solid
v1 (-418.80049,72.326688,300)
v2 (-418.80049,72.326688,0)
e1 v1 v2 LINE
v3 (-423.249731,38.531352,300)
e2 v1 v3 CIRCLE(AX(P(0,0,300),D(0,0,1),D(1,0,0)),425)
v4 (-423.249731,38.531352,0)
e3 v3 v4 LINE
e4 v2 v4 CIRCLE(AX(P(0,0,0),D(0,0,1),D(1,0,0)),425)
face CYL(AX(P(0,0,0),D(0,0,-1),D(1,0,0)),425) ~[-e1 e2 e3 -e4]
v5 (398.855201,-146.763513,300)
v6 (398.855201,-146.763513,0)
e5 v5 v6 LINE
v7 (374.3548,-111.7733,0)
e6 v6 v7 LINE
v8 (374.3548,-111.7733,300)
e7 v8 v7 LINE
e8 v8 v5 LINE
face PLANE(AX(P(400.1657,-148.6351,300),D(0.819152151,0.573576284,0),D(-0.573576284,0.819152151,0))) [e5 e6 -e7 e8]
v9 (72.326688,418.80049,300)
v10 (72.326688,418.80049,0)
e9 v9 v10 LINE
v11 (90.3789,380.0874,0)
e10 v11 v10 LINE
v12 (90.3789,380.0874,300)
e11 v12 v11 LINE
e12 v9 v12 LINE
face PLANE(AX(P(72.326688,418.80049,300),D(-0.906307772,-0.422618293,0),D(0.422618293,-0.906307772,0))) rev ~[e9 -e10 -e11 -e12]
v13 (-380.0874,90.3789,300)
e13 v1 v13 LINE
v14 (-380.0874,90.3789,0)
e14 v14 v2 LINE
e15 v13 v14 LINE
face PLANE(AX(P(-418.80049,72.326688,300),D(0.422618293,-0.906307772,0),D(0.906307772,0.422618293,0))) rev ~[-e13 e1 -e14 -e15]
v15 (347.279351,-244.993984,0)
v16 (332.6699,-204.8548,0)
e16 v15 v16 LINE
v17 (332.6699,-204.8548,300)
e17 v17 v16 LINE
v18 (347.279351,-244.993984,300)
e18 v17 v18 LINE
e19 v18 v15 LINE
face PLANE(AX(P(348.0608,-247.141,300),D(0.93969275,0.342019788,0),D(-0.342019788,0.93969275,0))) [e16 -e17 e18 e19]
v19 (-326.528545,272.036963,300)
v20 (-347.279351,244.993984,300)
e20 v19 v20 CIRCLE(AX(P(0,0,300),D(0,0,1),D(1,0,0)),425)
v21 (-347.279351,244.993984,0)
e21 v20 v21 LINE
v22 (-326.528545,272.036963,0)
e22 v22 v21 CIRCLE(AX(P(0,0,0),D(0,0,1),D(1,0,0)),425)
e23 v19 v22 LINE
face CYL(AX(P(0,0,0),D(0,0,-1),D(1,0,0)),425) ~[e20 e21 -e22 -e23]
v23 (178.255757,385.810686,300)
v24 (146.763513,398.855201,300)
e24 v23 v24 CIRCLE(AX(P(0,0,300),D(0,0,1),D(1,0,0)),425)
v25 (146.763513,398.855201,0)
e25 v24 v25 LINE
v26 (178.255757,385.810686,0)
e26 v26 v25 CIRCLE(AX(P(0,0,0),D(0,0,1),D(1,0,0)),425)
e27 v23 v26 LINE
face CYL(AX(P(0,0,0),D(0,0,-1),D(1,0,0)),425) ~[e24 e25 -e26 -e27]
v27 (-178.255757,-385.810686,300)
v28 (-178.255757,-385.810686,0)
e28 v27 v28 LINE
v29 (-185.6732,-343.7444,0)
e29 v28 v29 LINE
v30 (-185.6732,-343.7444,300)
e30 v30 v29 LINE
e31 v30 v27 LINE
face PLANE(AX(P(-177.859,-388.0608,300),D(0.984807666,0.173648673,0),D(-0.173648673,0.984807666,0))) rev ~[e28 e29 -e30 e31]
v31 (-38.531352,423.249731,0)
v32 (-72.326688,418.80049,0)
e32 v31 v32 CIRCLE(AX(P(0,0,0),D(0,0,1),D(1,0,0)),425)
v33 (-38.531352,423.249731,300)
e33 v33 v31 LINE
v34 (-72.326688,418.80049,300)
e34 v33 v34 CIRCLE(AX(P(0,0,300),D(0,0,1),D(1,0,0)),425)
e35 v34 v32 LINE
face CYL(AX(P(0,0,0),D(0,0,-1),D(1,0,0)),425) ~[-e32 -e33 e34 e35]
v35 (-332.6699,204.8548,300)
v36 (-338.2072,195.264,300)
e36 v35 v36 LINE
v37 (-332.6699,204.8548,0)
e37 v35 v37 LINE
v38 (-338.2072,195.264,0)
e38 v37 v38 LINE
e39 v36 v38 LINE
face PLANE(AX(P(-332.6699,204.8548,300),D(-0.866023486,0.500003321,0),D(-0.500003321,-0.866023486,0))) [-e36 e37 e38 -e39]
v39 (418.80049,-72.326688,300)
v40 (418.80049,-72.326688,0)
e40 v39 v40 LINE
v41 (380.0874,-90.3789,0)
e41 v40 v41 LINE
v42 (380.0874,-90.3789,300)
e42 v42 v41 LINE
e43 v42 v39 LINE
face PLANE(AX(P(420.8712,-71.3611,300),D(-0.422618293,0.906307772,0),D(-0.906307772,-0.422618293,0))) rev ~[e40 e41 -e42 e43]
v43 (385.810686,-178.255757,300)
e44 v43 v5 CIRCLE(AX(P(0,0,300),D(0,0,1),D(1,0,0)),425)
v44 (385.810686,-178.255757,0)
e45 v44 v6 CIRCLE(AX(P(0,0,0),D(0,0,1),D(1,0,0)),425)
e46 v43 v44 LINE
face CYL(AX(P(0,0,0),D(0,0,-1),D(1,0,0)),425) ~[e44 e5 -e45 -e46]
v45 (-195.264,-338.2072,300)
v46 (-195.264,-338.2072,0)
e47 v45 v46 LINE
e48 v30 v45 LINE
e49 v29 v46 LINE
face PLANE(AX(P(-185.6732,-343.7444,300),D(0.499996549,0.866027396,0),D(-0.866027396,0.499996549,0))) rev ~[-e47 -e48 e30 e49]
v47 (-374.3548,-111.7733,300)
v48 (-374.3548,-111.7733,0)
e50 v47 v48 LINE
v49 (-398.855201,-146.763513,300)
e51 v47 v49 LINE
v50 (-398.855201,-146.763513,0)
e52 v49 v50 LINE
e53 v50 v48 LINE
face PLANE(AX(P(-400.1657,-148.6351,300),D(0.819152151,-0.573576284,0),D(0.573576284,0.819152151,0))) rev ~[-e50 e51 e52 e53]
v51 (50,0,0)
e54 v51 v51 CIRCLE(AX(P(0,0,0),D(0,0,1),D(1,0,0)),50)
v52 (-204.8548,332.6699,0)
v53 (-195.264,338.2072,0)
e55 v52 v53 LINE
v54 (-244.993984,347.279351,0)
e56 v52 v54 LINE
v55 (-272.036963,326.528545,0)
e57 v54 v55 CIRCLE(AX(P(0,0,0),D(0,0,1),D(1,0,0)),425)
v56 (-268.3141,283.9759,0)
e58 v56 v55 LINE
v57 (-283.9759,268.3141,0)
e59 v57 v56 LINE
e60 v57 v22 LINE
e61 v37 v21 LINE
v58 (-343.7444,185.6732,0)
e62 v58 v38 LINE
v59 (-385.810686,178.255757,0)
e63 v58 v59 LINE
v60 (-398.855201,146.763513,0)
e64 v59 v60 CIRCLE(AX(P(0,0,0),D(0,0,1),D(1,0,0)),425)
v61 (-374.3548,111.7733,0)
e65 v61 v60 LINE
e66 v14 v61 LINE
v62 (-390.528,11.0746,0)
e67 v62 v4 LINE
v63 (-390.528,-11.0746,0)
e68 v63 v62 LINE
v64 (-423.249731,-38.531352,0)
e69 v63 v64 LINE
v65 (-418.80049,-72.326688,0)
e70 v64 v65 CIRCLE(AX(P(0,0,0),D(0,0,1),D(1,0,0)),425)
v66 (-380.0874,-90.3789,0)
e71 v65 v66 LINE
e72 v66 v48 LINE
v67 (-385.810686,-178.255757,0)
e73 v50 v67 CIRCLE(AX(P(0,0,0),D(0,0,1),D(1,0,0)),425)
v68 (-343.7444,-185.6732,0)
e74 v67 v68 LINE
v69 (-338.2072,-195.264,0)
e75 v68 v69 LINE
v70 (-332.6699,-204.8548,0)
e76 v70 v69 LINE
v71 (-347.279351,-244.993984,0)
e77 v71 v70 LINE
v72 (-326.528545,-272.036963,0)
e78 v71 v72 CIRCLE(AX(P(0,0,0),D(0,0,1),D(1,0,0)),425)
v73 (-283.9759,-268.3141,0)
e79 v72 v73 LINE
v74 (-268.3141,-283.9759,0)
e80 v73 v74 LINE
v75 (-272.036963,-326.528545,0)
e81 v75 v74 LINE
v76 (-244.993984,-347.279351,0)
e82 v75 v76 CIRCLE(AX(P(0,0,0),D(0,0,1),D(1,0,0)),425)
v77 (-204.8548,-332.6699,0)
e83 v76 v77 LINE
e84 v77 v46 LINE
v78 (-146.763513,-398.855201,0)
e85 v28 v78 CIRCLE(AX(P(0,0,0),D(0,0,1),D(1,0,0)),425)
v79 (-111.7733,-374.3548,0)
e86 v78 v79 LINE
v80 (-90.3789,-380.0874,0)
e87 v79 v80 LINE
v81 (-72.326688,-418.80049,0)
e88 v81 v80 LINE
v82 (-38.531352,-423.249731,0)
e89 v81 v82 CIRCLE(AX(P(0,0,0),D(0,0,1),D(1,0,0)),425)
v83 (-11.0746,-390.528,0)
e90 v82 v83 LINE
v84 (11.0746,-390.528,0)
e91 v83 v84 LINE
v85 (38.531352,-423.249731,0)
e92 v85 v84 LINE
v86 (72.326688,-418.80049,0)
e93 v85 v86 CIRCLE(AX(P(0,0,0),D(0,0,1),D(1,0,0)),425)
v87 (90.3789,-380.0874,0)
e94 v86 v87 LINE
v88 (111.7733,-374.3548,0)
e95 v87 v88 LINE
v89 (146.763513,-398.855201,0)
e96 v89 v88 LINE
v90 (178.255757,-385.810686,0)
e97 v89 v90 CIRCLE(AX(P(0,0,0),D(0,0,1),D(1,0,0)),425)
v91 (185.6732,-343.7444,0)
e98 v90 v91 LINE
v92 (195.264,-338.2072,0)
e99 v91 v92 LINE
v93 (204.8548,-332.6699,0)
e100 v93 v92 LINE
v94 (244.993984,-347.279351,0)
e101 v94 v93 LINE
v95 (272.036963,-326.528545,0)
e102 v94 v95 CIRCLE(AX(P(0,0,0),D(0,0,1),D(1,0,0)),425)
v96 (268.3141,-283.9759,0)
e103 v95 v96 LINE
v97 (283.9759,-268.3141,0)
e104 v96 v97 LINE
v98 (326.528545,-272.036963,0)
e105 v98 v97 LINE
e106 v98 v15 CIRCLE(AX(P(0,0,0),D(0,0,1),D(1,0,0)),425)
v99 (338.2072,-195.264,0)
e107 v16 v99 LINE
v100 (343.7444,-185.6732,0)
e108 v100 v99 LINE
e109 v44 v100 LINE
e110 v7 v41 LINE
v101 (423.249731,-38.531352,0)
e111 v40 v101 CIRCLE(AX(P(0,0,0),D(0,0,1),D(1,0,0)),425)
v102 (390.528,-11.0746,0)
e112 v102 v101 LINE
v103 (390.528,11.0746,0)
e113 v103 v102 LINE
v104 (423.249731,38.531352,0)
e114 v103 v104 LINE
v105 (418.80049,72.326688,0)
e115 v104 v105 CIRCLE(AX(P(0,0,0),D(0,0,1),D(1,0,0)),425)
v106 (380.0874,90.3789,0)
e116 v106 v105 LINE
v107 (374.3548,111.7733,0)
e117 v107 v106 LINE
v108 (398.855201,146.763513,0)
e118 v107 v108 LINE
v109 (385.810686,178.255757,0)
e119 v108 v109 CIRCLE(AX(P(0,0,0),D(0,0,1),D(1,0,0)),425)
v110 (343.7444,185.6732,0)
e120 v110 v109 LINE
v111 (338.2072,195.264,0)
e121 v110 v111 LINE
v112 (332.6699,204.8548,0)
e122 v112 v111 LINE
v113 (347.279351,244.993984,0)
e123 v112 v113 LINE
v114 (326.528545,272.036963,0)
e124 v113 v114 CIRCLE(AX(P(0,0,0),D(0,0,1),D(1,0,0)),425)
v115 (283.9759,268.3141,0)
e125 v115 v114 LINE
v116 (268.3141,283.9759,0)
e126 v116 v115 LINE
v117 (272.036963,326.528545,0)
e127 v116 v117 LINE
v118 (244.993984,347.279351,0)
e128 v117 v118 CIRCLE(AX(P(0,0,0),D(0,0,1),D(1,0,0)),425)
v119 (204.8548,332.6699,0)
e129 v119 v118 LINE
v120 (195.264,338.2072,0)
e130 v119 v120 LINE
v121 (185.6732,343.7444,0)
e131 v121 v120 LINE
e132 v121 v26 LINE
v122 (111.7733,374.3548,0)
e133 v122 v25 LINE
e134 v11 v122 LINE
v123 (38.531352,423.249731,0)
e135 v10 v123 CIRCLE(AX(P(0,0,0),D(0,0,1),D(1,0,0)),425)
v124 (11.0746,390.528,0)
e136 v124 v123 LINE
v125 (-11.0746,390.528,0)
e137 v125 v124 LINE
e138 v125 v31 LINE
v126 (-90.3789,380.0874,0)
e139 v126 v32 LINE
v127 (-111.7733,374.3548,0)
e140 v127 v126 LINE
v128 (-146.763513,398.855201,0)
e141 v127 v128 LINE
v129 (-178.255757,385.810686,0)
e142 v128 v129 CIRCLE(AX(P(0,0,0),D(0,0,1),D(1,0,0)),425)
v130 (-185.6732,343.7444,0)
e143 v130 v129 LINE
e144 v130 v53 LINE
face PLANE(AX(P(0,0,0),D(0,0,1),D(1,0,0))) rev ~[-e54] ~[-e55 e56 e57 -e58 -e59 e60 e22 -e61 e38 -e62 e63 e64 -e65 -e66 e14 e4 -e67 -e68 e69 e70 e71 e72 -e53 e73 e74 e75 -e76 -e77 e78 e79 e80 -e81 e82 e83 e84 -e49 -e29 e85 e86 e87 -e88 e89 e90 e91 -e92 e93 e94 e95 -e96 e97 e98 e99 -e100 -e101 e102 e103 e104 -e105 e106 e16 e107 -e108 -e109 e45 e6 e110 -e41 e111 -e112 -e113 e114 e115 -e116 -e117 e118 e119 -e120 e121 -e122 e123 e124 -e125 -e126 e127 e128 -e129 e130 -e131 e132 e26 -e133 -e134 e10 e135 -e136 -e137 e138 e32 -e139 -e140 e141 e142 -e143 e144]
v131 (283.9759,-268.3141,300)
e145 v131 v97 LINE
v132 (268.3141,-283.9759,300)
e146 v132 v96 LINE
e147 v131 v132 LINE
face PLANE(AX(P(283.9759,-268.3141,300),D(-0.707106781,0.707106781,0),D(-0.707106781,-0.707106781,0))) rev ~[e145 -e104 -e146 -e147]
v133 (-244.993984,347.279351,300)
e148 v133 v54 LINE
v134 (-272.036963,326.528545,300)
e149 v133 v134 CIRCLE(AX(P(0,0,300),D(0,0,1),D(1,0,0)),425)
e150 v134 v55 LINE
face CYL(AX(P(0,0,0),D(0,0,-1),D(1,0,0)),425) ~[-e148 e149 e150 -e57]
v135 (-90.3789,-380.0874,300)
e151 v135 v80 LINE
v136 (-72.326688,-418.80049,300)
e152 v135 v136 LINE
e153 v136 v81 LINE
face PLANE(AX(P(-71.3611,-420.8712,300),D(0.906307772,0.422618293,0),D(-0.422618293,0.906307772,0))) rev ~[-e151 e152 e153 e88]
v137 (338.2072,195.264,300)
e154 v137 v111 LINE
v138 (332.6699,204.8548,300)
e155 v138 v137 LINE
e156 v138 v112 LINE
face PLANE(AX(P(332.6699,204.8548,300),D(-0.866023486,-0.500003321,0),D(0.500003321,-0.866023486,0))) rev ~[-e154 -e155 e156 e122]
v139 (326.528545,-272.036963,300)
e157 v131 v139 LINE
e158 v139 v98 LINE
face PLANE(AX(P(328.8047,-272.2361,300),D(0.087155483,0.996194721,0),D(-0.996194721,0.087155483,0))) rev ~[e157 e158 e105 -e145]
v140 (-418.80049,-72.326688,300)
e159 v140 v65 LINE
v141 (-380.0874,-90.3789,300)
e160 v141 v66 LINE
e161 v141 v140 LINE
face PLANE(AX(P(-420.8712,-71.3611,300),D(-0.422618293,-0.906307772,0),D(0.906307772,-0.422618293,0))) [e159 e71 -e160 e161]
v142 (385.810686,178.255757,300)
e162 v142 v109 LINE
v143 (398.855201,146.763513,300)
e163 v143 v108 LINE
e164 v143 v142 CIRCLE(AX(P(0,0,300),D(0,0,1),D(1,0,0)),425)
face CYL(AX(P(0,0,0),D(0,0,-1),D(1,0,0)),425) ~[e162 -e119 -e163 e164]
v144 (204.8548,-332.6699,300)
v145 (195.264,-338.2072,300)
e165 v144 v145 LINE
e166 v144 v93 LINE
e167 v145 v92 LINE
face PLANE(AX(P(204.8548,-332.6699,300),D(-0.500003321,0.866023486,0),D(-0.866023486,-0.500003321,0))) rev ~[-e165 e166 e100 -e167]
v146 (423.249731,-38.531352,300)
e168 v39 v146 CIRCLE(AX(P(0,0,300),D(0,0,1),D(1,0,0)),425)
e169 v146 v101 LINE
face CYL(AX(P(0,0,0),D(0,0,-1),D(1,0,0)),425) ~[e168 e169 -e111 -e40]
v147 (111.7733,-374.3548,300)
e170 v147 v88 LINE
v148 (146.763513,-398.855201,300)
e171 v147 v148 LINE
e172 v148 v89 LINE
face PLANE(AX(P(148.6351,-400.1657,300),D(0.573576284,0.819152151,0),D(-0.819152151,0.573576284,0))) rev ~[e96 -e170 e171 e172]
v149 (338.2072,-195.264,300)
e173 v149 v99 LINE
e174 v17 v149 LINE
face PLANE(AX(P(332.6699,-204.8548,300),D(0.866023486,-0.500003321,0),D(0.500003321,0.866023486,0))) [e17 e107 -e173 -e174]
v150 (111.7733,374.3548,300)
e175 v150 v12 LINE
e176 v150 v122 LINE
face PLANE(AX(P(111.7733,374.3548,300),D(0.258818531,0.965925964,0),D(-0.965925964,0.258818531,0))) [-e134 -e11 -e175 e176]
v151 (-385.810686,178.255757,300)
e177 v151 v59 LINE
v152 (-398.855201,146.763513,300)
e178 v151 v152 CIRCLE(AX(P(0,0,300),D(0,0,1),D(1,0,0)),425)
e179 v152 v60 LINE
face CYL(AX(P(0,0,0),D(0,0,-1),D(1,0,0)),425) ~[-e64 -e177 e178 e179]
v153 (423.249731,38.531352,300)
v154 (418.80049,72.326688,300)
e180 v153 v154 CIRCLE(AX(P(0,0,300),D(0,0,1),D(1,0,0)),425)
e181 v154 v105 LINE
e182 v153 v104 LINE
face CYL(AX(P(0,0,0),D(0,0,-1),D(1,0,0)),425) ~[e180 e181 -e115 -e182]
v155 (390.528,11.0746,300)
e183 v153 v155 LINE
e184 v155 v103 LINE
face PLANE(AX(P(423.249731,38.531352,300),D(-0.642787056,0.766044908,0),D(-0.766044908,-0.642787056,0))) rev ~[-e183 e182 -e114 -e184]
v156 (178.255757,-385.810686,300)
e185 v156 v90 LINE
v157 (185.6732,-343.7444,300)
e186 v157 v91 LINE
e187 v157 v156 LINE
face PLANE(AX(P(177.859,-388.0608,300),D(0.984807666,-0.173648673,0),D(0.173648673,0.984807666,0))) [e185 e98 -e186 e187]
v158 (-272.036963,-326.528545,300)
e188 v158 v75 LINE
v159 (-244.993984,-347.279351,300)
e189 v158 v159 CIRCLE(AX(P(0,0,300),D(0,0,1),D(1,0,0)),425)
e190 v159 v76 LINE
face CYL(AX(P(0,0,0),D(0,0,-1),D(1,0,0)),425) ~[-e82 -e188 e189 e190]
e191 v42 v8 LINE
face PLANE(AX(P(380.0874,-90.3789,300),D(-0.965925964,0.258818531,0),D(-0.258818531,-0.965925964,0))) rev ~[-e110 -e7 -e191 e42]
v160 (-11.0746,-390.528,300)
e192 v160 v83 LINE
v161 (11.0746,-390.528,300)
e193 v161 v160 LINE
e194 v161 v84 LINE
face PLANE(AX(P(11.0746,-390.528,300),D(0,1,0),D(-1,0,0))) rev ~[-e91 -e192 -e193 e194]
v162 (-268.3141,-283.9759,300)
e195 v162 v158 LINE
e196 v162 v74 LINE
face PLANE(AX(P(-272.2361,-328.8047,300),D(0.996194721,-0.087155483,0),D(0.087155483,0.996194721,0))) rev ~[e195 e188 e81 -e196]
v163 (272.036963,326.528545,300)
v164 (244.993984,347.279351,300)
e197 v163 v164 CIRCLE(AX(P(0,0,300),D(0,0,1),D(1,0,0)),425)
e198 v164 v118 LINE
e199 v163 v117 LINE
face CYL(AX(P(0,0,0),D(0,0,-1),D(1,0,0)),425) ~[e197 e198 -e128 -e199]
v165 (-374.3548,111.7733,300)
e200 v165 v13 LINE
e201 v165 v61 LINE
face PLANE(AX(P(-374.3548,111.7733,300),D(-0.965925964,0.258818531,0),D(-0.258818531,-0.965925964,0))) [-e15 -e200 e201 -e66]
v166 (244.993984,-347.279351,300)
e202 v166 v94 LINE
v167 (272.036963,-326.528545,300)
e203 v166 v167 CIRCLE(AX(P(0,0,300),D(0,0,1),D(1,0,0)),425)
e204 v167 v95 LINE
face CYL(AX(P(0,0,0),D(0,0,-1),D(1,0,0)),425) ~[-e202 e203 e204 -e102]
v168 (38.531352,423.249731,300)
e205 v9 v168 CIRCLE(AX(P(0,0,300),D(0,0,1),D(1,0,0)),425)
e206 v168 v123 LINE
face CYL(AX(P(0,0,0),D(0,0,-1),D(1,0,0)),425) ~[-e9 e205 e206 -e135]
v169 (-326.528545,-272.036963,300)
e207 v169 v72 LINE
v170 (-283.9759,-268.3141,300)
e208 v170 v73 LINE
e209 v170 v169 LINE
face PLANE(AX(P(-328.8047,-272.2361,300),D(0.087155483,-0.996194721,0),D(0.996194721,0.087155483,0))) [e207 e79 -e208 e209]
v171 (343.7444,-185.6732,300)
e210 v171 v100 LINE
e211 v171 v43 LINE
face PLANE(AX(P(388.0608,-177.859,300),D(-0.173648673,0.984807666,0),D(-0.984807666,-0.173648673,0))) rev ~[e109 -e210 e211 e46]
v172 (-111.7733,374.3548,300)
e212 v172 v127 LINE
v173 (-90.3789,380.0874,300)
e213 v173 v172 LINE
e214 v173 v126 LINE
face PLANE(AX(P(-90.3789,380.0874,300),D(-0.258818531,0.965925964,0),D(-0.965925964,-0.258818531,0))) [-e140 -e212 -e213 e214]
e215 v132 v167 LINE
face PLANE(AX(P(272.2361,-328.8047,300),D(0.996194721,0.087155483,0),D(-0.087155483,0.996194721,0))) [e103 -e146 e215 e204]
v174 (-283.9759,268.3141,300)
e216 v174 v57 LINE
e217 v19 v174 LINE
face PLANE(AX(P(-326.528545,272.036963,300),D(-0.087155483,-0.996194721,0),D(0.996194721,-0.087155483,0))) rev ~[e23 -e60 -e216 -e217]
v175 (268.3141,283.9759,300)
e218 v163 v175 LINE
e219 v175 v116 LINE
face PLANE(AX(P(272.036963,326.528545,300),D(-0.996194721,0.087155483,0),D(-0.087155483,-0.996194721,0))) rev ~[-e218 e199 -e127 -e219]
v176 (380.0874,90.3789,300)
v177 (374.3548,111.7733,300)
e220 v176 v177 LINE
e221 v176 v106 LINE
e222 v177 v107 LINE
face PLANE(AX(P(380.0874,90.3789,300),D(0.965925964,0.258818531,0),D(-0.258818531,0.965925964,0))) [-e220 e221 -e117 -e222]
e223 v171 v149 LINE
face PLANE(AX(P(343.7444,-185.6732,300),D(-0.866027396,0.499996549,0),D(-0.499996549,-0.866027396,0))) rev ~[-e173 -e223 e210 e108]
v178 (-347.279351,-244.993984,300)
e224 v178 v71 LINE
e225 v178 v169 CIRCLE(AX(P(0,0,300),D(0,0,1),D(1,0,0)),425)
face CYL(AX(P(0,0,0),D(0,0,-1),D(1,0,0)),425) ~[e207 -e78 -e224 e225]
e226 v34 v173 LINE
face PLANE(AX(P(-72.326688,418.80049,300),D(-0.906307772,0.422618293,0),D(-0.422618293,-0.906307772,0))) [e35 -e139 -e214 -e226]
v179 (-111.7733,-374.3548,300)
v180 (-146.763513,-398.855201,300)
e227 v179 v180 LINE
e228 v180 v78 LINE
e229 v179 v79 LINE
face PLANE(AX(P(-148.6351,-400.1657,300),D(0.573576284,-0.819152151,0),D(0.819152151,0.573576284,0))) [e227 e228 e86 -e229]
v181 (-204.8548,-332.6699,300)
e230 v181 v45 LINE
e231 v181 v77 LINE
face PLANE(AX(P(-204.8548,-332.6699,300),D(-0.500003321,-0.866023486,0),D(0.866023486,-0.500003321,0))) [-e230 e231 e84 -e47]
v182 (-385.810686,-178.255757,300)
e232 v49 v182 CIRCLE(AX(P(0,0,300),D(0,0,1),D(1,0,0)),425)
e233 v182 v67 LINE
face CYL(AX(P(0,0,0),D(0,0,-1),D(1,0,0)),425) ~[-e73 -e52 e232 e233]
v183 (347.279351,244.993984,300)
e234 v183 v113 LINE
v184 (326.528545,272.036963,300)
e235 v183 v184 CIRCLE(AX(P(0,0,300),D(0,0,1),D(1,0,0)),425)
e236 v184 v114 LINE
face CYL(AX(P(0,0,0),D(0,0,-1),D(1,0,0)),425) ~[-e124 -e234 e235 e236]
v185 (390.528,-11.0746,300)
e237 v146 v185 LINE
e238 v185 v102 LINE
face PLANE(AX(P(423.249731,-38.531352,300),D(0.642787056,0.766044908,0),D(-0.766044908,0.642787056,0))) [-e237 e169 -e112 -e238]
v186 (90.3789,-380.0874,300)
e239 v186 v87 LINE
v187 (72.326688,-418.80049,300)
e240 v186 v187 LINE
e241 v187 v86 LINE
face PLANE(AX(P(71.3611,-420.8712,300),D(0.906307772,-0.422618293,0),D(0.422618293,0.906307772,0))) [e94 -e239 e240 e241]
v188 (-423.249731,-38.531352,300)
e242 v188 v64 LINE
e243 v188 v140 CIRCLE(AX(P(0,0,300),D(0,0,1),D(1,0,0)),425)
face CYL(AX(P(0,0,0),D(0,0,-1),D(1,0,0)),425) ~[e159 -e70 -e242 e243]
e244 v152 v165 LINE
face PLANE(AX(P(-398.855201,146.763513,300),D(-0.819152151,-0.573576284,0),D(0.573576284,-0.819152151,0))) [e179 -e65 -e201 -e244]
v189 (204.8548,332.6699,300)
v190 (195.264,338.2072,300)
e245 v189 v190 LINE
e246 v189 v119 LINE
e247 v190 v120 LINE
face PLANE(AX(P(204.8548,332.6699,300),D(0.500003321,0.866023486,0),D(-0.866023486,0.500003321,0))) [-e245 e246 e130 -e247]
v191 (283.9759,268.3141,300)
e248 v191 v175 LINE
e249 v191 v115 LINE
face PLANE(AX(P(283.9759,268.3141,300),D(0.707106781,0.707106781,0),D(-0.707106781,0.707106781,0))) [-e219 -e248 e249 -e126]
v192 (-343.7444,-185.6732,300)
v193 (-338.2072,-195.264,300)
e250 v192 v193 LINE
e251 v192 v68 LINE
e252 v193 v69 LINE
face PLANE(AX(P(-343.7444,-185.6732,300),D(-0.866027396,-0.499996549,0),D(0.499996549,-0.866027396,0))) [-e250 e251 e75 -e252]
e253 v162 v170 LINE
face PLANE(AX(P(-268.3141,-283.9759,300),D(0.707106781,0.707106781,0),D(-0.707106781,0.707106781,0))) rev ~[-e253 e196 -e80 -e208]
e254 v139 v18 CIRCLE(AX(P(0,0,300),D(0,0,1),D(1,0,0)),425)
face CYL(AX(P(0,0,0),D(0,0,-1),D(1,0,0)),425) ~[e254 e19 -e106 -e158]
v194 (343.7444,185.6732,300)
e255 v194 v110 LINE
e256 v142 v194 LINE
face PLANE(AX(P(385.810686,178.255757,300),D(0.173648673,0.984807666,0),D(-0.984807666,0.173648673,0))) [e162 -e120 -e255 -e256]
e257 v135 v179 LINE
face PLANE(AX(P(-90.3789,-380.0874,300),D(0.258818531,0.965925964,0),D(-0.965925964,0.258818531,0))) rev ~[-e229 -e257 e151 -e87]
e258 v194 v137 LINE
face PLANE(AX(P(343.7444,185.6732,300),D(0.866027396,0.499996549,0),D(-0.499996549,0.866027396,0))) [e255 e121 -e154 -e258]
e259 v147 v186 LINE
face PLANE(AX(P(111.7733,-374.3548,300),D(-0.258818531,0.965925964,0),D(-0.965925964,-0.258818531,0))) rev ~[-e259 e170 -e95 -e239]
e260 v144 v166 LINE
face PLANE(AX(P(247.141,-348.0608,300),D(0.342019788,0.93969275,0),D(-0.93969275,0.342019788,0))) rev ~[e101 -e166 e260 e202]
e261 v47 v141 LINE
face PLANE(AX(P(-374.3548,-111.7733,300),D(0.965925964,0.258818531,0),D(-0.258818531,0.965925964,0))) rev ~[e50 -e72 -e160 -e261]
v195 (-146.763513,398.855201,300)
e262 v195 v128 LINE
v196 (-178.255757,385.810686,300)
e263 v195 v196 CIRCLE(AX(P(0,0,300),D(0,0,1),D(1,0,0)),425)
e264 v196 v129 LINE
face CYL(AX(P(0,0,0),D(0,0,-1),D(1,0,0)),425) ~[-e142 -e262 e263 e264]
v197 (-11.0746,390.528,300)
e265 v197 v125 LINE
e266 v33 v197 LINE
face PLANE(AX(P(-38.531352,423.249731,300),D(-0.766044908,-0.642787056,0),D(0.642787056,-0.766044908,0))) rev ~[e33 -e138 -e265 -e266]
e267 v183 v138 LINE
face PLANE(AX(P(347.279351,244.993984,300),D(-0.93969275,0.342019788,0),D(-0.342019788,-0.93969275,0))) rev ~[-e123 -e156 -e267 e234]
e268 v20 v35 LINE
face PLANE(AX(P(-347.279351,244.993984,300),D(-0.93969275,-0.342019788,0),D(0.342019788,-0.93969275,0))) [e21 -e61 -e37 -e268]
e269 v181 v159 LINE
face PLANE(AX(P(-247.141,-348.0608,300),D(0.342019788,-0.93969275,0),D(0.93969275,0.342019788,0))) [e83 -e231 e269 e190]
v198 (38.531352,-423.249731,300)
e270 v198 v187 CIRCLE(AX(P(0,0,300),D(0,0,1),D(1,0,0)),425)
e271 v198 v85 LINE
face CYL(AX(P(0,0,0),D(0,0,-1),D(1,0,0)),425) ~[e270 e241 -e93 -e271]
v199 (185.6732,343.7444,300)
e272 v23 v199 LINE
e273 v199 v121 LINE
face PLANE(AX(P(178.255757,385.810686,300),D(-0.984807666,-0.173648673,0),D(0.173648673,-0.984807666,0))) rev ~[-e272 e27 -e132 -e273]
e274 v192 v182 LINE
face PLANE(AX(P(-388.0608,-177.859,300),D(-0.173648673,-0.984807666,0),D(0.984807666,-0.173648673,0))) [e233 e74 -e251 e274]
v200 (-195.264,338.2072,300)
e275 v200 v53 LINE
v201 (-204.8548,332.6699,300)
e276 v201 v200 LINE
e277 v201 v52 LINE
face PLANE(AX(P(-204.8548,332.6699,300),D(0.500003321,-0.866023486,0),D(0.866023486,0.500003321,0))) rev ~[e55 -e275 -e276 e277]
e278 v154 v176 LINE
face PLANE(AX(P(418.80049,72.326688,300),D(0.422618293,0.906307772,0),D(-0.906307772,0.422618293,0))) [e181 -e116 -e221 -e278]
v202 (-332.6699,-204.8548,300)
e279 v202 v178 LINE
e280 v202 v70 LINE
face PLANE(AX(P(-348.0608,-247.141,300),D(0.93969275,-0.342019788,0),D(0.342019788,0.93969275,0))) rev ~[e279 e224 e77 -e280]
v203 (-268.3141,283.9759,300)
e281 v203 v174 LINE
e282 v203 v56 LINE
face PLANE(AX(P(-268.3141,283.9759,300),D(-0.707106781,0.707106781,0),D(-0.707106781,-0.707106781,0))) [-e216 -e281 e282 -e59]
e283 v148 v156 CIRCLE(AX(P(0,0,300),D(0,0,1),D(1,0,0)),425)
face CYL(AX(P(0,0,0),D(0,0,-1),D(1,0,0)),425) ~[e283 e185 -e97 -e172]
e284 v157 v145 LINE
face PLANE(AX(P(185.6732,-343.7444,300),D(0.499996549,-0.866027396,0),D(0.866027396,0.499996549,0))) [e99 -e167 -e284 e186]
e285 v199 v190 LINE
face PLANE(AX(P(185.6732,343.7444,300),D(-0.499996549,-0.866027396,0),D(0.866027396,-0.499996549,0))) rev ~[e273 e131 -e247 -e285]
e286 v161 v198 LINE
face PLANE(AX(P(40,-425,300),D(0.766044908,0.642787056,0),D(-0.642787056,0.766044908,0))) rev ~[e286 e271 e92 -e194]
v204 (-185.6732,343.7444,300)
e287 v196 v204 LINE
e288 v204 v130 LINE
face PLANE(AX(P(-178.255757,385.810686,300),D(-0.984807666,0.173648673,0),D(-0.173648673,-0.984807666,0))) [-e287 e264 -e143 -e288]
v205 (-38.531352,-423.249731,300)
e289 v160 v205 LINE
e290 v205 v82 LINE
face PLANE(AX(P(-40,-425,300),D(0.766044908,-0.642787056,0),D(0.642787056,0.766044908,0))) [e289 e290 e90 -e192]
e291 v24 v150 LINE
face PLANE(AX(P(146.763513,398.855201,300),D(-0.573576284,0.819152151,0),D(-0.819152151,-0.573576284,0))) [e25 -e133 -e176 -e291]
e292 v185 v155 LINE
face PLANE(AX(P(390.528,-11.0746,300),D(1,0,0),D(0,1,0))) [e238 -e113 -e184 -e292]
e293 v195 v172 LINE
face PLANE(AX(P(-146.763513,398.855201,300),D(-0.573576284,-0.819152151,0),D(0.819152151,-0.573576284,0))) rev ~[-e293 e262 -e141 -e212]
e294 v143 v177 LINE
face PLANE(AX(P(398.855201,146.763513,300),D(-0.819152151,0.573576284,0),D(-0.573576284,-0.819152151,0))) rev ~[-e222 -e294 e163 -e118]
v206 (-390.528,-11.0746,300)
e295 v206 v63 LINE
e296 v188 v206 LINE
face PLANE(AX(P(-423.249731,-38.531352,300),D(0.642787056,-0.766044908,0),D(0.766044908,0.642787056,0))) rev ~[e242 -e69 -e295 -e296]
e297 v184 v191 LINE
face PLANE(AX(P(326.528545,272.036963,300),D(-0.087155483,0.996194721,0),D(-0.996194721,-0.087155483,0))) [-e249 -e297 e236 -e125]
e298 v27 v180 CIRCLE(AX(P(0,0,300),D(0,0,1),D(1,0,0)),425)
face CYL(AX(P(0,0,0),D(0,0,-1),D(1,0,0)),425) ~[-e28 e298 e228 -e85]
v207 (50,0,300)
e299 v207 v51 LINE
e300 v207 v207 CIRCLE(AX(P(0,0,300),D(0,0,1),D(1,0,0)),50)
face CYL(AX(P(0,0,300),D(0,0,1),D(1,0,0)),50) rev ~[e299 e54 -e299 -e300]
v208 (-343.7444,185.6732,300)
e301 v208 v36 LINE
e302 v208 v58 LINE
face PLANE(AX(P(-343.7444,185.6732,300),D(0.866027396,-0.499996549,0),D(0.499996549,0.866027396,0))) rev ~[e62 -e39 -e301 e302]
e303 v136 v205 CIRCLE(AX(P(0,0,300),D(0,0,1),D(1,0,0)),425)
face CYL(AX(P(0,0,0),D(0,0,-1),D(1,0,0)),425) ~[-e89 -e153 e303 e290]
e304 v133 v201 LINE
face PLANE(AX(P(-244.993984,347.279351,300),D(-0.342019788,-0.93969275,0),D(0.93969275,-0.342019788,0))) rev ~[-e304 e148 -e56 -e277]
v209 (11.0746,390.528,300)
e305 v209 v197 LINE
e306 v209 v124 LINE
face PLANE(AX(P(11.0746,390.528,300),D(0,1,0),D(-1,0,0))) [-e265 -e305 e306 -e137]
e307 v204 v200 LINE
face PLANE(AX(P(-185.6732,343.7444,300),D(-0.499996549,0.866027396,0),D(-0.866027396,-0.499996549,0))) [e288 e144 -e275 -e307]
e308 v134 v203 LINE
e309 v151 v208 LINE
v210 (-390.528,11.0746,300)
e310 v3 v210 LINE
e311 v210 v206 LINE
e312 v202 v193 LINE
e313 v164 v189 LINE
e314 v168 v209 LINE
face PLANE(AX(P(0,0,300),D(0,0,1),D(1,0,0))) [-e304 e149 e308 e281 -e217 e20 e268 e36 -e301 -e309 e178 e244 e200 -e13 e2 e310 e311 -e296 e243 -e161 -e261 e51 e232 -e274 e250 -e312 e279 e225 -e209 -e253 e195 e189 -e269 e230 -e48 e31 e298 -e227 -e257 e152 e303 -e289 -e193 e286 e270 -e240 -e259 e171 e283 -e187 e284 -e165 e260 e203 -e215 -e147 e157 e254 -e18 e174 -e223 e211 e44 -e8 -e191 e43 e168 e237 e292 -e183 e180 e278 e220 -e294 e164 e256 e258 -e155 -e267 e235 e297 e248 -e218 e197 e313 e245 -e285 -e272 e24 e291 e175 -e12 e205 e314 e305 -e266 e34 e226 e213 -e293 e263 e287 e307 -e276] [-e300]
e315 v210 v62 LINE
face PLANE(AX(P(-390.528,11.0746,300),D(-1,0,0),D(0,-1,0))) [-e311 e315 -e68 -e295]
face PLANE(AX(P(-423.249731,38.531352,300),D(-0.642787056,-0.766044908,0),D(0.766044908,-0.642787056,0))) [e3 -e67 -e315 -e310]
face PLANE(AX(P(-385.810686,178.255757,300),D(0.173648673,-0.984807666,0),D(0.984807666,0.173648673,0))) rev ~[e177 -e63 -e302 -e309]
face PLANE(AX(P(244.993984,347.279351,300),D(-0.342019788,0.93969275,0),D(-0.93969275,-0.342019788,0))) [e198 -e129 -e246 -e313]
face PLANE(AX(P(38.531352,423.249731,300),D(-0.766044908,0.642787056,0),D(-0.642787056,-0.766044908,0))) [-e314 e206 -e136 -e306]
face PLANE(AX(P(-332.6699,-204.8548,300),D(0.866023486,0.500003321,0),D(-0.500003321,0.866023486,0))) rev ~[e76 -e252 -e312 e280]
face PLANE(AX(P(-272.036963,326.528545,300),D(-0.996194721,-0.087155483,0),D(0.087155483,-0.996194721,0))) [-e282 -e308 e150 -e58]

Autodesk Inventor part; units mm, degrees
ref_plane "YZ Plane" through (0, 0, 0) normal (1, 0, 0) x (0, 1, 0)
ref_plane "XZ Plane" through (0, 0, 0) normal (0, 1, 0) x (-1, 0, 0)
ref_plane "XY Plane" through (0, 0, 0) normal (0, 0, 1) x (1, 0, 0)
sketch "Sketch1" plane through (0, 0, 0) normal (0, 0, 1) x (1, 0, 0)
  circle A0 centre (0, 0) radius 425
  dimension "d0" = 850
extrude "Extrusion1" add sketch "Sketch1" along normal blind 300
sketch "Sketch2" plane through (0, 0, 300) normal (0, 0, 1) x (1, 0, 0)
  circle A0 centre (0, 0) radius 425 projected
  line L0 (0, 425) -> (40, 425)
  line L1 (40, 425) -> (11.0746, 390.528)
  line L2 (0, 425) -> (0, 390.528) construction
  line L3 (11.0746, 390.528) -> (0, 390.528)
  line L4 (0, 425) -> (-40, 425)
  line L5 (-40, 425) -> (-11.0746, 390.528)
  line L6 (-11.0746, 390.528) -> (0, 390.528)
  line L7 (109.9981, 410.5185) -> (71.3611, 420.8712)
  line L8 (71.3611, 420.8712) -> (90.3789, 380.0874)
  line L9 (90.3789, 380.0874) -> (101.0761, 377.2211)
  line L10 (111.7733, 374.3548) -> (101.0761, 377.2211)
  line L11 (148.6351, 400.1657) -> (111.7733, 374.3548)
  line L12 (109.9981, 410.5185) -> (148.6351, 400.1657)
  line L13 (212.5, 368.0608) -> (177.859, 388.0608)
  line L14 (177.859, 388.0608) -> (185.6732, 343.7444)
  line L15 (185.6732, 343.7444) -> (195.264, 338.2072)
  line L16 (204.8548, 332.6699) -> (195.264, 338.2072)
  line L17 (247.141, 348.0608) -> (204.8548, 332.6699)
  line L18 (212.5, 368.0608) -> (247.141, 348.0608)
  line L19 (300.5204, 300.5204) -> (272.2361, 328.8047)
  line L20 (272.2361, 328.8047) -> (268.3141, 283.9759)
  line L21 (268.3141, 283.9759) -> (276.145, 276.145)
  line L22 (283.9759, 268.3141) -> (276.145, 276.145)
  line L23 (328.8047, 272.2361) -> (283.9759, 268.3141)
  line L24 (300.5204, 300.5204) -> (328.8047, 272.2361)
  line L25 (368.0608, 212.5) -> (348.0608, 247.141)
  line L26 (348.0608, 247.141) -> (332.6699, 204.8548)
  line L27 (332.6699, 204.8548) -> (338.2072, 195.264)
  line L28 (343.7444, 185.6732) -> (338.2072, 195.264)
  line L29 (388.0608, 177.859) -> (343.7444, 185.6732)
  line L30 (368.0608, 212.5) -> (388.0608, 177.859)
  line L31 (410.5185, 109.9981) -> (400.1657, 148.6351)
  line L32 (400.1657, 148.6351) -> (374.3548, 111.7733)
  line L33 (374.3548, 111.7733) -> (377.2211, 101.0761)
  line L34 (380.0874, 90.3789) -> (377.2211, 101.0761)
  line L35 (420.8712, 71.3611) -> (380.0874, 90.3789)
  line L36 (410.5185, 109.9981) -> (420.8712, 71.3611)
  line L37 (425, 0) -> (425, 40)
  line L38 (425, 40) -> (390.528, 11.0746)
  line L39 (390.528, 11.0746) -> (390.528, 0)
  line L40 (390.528, -11.0746) -> (390.528, 0)
  line L41 (425, -40) -> (390.528, -11.0746)
  line L42 (425, 0) -> (425, -40)
  line L43 (410.5185, -109.9981) -> (420.8712, -71.3611)
  line L44 (420.8712, -71.3611) -> (380.0874, -90.3789)
  line L45 (380.0874, -90.3789) -> (377.2211, -101.0761)
  line L46 (374.3548, -111.7733) -> (377.2211, -101.0761)
  line L47 (400.1657, -148.6351) -> (374.3548, -111.7733)
  line L48 (410.5185, -109.9981) -> (400.1657, -148.6351)
  line L49 (368.0608, -212.5) -> (388.0608, -177.859)
  line L50 (388.0608, -177.859) -> (343.7444, -185.6732)
  line L51 (343.7444, -185.6732) -> (338.2072, -195.264)
  line L52 (332.6699, -204.8548) -> (338.2072, -195.264)
  line L53 (348.0608, -247.141) -> (332.6699, -204.8548)
  line L54 (368.0608, -212.5) -> (348.0608, -247.141)
  line L55 (300.5204, -300.5204) -> (328.8047, -272.2361)
  line L56 (328.8047, -272.2361) -> (283.9759, -268.3141)
  line L57 (283.9759, -268.3141) -> (276.145, -276.145)
  line L58 (268.3141, -283.9759) -> (276.145, -276.145)
  line L59 (272.2361, -328.8047) -> (268.3141, -283.9759)
  line L60 (300.5204, -300.5204) -> (272.2361, -328.8047)
  line L61 (212.5, -368.0608) -> (247.141, -348.0608)
  line L62 (247.141, -348.0608) -> (204.8548, -332.6699)
  line L63 (204.8548, -332.6699) -> (195.264, -338.2072)
  line L64 (185.6732, -343.7444) -> (195.264, -338.2072)
  line L65 (177.859, -388.0608) -> (185.6732, -343.7444)
  line L66 (212.5, -368.0608) -> (177.859, -388.0608)
  line L67 (109.9981, -410.5185) -> (148.6351, -400.1657)
  line L68 (148.6351, -400.1657) -> (111.7733, -374.3548)
  line L69 (111.7733, -374.3548) -> (101.0761, -377.2211)
  line L70 (90.3789, -380.0874) -> (101.0761, -377.2211)
  line L71 (71.3611, -420.8712) -> (90.3789, -380.0874)
  line L72 (109.9981, -410.5185) -> (71.3611, -420.8712)
  line L73 (0, -425) -> (40, -425)
  line L74 (40, -425) -> (11.0746, -390.528)
  line L75 (11.0746, -390.528) -> (0, -390.528)
  line L76 (-11.0746, -390.528) -> (0, -390.528)
  line L77 (-40, -425) -> (-11.0746, -390.528)
  line L78 (0, -425) -> (-40, -425)
  line L79 (-109.9981, -410.5185) -> (-71.3611, -420.8712)
  line L80 (-71.3611, -420.8712) -> (-90.3789, -380.0874)
  line L81 (-90.3789, -380.0874) -> (-101.0761, -377.2211)
  line L82 (-111.7733, -374.3548) -> (-101.0761, -377.2211)
  line L83 (-148.6351, -400.1657) -> (-111.7733, -374.3548)
  line L84 (-109.9981, -410.5185) -> (-148.6351, -400.1657)
  line L85 (-212.5, -368.0608) -> (-177.859, -388.0608)
  line L86 (-177.859, -388.0608) -> (-185.6732, -343.7444)
  line L87 (-185.6732, -343.7444) -> (-195.264, -338.2072)
  line L88 (-204.8548, -332.6699) -> (-195.264, -338.2072)
  line L89 (-247.141, -348.0608) -> (-204.8548, -332.6699)
  line L90 (-212.5, -368.0608) -> (-247.141, -348.0608)
  line L91 (-300.5204, -300.5204) -> (-272.2361, -328.8047)
  line L92 (-272.2361, -328.8047) -> (-268.3141, -283.9759)
  line L93 (-268.3141, -283.9759) -> (-276.145, -276.145)
  line L94 (-283.9759, -268.3141) -> (-276.145, -276.145)
  line L95 (-328.8047, -272.2361) -> (-283.9759, -268.3141)
  line L96 (-300.5204, -300.5204) -> (-328.8047, -272.2361)
  line L97 (-368.0608, -212.5) -> (-348.0608, -247.141)
  line L98 (-348.0608, -247.141) -> (-332.6699, -204.8548)
  line L99 (-332.6699, -204.8548) -> (-338.2072, -195.264)
  line L100 (-343.7444, -185.6732) -> (-338.2072, -195.264)
  line L101 (-388.0608, -177.859) -> (-343.7444, -185.6732)
  line L102 (-368.0608, -212.5) -> (-388.0608, -177.859)
  line L103 (-410.5185, -109.9981) -> (-400.1657, -148.6351)
  line L104 (-400.1657, -148.6351) -> (-374.3548, -111.7733)
  line L105 (-374.3548, -111.7733) -> (-377.2211, -101.0761)
  line L106 (-380.0874, -90.3789) -> (-377.2211, -101.0761)
  line L107 (-420.8712, -71.3611) -> (-380.0874, -90.3789)
  line L108 (-410.5185, -109.9981) -> (-420.8712, -71.3611)
  line L109 (-425, 0) -> (-425, -40)
  line L110 (-425, -40) -> (-390.528, -11.0746)
  line L111 (-390.528, -11.0746) -> (-390.528, 0)
  line L112 (-390.528, 11.0746) -> (-390.528, 0)
  line L113 (-425, 40) -> (-390.528, 11.0746)
  line L114 (-425, 0) -> (-425, 40)
  line L115 (-410.5185, 109.9981) -> (-420.8712, 71.3611)
  line L116 (-420.8712, 71.3611) -> (-380.0874, 90.3789)
  line L117 (-380.0874, 90.3789) -> (-377.2211, 101.0761)
  line L118 (-374.3548, 111.7733) -> (-377.2211, 101.0761)
  line L119 (-400.1657, 148.6351) -> (-374.3548, 111.7733)
  line L120 (-410.5185, 109.9981) -> (-400.1657, 148.6351)
  line L121 (-368.0608, 212.5) -> (-388.0608, 177.859)
  line L122 (-388.0608, 177.859) -> (-343.7444, 185.6732)
  line L123 (-343.7444, 185.6732) -> (-338.2072, 195.264)
  line L124 (-332.6699, 204.8548) -> (-338.2072, 195.264)
  line L125 (-348.0608, 247.141) -> (-332.6699, 204.8548)
  line L126 (-368.0608, 212.5) -> (-348.0608, 247.141)
  line L127 (-300.5204, 300.5204) -> (-328.8047, 272.2361)
  line L128 (-328.8047, 272.2361) -> (-283.9759, 268.3141)
  line L129 (-283.9759, 268.3141) -> (-276.145, 276.145)
  line L130 (-268.3141, 283.9759) -> (-276.145, 276.145)
  line L131 (-272.2361, 328.8047) -> (-268.3141, 283.9759)
  line L132 (-300.5204, 300.5204) -> (-272.2361, 328.8047)
  line L133 (-212.5, 368.0608) -> (-247.141, 348.0608)
  line L134 (-247.141, 348.0608) -> (-204.8548, 332.6699)
  line L135 (-204.8548, 332.6699) -> (-195.264, 338.2072)
  line L136 (-185.6732, 343.7444) -> (-195.264, 338.2072)
  line L137 (-177.859, 388.0608) -> (-185.6732, 343.7444)
  line L138 (-212.5, 368.0608) -> (-177.859, 388.0608)
  line L139 (-109.9981, 410.5185) -> (-148.6351, 400.1657)
  line L140 (-148.6351, 400.1657) -> (-111.7733, 374.3548)
  line L141 (-111.7733, 374.3548) -> (-101.0761, 377.2211)
  line L142 (-90.3789, 380.0874) -> (-101.0761, 377.2211)
  line L143 (-71.3611, 420.8712) -> (-90.3789, 380.0874)
  line L144 (-109.9981, 410.5185) -> (-71.3611, 420.8712)
  dimension "d3" = 40
  dimension "d4" = 45
  dimension "d5" = 50
  dimension "d8" = 360
extrude "Extrusion2" cut sketch "Sketch2" against normal up to surface (300 mm away) contours A0 L41 L40 L39 L38 | L42 L41 A0 | A0 L38 L37 | L35 L34 L33 L32 A0 | A0 L36 L35 | L44 L43 A0 | A0 L47 L46 L45 L44 | A0 L32 L31 | L48 L47 A0 | L29 L28 L27 L26 A0 | A0 L30 L29 | L50 L49 A0 | A0 L53 L52 L51 L50 | A0 L26 L25 | L54 L53 A0 | L23 L22 L21 L20 A0 | A0 L24 L23 | L56 L55 A0 | A0 L59 L58 L57 L56 | A0 L20 L19 | L60 L59 A0 | L17 L16 L15 L14 A0 | A0 L18 L17 | L62 L61 A0 | A0 L65 L64 L63 L62 | A0 L14 L13 | L66 L65 A0 | L11 L10 L9 L8 A0 | A0 L12 L11 | L68 L67 A0 | A0 L71 L70 L69 L68 | A0 L8 L7 | L72 L71 A0 | L1 L3 L6 L5 A0 | A0 L0 L1 | L74 L73 A0 | A0 L77 L76 L75 L74 | A0 L5 L4 | L78 L77 A0 | L143 L142 L141 L140 A0 | A0 L144 L143 | L80 L79 A0 | A0 L83 L82 L81 L80 | A0 L140 L139 | L84 L83 A0 | L137 L136 L135 L134 A0 | A0 L138 L137 | L86 L85 A0 | A0 L89 L88 L87 L86 | A0 L134 L133 | L90 L89 A0 | L131 L130 L129 L128 A0 | A0 L132 L131 | L92 L91 A0 | A0 L95 L94 L93 L92 | A0 L128 L127 | L96 L95 A0 | L125 L124 L123 L122 A0 | A0 L126 L125 | L98 L97 A0 | A0 L101 L100 L99 L98 | A0 L122 L121 | L102 L101 A0 | L119 L118 L117 L116 A0 | A0 L120 L119 | L104 L103 A0 | A0 L107 L106 L105 L104 | A0 L116 L115 | L108 L107 A0 | L113 L112 L111 L110 A0 | A0 L114 L113 | L110 L109 A0
sketch "Sketch3" plane through (0, 0, 300) normal (0, 0, 1) x (1, 0, 0)
  circle A0 centre (0, 0) radius 50
  dimension "d12" = 100
extrude "Extrusion3" cut sketch "Sketch3" against normal through all
properties part number "02CybertruckWheels"
